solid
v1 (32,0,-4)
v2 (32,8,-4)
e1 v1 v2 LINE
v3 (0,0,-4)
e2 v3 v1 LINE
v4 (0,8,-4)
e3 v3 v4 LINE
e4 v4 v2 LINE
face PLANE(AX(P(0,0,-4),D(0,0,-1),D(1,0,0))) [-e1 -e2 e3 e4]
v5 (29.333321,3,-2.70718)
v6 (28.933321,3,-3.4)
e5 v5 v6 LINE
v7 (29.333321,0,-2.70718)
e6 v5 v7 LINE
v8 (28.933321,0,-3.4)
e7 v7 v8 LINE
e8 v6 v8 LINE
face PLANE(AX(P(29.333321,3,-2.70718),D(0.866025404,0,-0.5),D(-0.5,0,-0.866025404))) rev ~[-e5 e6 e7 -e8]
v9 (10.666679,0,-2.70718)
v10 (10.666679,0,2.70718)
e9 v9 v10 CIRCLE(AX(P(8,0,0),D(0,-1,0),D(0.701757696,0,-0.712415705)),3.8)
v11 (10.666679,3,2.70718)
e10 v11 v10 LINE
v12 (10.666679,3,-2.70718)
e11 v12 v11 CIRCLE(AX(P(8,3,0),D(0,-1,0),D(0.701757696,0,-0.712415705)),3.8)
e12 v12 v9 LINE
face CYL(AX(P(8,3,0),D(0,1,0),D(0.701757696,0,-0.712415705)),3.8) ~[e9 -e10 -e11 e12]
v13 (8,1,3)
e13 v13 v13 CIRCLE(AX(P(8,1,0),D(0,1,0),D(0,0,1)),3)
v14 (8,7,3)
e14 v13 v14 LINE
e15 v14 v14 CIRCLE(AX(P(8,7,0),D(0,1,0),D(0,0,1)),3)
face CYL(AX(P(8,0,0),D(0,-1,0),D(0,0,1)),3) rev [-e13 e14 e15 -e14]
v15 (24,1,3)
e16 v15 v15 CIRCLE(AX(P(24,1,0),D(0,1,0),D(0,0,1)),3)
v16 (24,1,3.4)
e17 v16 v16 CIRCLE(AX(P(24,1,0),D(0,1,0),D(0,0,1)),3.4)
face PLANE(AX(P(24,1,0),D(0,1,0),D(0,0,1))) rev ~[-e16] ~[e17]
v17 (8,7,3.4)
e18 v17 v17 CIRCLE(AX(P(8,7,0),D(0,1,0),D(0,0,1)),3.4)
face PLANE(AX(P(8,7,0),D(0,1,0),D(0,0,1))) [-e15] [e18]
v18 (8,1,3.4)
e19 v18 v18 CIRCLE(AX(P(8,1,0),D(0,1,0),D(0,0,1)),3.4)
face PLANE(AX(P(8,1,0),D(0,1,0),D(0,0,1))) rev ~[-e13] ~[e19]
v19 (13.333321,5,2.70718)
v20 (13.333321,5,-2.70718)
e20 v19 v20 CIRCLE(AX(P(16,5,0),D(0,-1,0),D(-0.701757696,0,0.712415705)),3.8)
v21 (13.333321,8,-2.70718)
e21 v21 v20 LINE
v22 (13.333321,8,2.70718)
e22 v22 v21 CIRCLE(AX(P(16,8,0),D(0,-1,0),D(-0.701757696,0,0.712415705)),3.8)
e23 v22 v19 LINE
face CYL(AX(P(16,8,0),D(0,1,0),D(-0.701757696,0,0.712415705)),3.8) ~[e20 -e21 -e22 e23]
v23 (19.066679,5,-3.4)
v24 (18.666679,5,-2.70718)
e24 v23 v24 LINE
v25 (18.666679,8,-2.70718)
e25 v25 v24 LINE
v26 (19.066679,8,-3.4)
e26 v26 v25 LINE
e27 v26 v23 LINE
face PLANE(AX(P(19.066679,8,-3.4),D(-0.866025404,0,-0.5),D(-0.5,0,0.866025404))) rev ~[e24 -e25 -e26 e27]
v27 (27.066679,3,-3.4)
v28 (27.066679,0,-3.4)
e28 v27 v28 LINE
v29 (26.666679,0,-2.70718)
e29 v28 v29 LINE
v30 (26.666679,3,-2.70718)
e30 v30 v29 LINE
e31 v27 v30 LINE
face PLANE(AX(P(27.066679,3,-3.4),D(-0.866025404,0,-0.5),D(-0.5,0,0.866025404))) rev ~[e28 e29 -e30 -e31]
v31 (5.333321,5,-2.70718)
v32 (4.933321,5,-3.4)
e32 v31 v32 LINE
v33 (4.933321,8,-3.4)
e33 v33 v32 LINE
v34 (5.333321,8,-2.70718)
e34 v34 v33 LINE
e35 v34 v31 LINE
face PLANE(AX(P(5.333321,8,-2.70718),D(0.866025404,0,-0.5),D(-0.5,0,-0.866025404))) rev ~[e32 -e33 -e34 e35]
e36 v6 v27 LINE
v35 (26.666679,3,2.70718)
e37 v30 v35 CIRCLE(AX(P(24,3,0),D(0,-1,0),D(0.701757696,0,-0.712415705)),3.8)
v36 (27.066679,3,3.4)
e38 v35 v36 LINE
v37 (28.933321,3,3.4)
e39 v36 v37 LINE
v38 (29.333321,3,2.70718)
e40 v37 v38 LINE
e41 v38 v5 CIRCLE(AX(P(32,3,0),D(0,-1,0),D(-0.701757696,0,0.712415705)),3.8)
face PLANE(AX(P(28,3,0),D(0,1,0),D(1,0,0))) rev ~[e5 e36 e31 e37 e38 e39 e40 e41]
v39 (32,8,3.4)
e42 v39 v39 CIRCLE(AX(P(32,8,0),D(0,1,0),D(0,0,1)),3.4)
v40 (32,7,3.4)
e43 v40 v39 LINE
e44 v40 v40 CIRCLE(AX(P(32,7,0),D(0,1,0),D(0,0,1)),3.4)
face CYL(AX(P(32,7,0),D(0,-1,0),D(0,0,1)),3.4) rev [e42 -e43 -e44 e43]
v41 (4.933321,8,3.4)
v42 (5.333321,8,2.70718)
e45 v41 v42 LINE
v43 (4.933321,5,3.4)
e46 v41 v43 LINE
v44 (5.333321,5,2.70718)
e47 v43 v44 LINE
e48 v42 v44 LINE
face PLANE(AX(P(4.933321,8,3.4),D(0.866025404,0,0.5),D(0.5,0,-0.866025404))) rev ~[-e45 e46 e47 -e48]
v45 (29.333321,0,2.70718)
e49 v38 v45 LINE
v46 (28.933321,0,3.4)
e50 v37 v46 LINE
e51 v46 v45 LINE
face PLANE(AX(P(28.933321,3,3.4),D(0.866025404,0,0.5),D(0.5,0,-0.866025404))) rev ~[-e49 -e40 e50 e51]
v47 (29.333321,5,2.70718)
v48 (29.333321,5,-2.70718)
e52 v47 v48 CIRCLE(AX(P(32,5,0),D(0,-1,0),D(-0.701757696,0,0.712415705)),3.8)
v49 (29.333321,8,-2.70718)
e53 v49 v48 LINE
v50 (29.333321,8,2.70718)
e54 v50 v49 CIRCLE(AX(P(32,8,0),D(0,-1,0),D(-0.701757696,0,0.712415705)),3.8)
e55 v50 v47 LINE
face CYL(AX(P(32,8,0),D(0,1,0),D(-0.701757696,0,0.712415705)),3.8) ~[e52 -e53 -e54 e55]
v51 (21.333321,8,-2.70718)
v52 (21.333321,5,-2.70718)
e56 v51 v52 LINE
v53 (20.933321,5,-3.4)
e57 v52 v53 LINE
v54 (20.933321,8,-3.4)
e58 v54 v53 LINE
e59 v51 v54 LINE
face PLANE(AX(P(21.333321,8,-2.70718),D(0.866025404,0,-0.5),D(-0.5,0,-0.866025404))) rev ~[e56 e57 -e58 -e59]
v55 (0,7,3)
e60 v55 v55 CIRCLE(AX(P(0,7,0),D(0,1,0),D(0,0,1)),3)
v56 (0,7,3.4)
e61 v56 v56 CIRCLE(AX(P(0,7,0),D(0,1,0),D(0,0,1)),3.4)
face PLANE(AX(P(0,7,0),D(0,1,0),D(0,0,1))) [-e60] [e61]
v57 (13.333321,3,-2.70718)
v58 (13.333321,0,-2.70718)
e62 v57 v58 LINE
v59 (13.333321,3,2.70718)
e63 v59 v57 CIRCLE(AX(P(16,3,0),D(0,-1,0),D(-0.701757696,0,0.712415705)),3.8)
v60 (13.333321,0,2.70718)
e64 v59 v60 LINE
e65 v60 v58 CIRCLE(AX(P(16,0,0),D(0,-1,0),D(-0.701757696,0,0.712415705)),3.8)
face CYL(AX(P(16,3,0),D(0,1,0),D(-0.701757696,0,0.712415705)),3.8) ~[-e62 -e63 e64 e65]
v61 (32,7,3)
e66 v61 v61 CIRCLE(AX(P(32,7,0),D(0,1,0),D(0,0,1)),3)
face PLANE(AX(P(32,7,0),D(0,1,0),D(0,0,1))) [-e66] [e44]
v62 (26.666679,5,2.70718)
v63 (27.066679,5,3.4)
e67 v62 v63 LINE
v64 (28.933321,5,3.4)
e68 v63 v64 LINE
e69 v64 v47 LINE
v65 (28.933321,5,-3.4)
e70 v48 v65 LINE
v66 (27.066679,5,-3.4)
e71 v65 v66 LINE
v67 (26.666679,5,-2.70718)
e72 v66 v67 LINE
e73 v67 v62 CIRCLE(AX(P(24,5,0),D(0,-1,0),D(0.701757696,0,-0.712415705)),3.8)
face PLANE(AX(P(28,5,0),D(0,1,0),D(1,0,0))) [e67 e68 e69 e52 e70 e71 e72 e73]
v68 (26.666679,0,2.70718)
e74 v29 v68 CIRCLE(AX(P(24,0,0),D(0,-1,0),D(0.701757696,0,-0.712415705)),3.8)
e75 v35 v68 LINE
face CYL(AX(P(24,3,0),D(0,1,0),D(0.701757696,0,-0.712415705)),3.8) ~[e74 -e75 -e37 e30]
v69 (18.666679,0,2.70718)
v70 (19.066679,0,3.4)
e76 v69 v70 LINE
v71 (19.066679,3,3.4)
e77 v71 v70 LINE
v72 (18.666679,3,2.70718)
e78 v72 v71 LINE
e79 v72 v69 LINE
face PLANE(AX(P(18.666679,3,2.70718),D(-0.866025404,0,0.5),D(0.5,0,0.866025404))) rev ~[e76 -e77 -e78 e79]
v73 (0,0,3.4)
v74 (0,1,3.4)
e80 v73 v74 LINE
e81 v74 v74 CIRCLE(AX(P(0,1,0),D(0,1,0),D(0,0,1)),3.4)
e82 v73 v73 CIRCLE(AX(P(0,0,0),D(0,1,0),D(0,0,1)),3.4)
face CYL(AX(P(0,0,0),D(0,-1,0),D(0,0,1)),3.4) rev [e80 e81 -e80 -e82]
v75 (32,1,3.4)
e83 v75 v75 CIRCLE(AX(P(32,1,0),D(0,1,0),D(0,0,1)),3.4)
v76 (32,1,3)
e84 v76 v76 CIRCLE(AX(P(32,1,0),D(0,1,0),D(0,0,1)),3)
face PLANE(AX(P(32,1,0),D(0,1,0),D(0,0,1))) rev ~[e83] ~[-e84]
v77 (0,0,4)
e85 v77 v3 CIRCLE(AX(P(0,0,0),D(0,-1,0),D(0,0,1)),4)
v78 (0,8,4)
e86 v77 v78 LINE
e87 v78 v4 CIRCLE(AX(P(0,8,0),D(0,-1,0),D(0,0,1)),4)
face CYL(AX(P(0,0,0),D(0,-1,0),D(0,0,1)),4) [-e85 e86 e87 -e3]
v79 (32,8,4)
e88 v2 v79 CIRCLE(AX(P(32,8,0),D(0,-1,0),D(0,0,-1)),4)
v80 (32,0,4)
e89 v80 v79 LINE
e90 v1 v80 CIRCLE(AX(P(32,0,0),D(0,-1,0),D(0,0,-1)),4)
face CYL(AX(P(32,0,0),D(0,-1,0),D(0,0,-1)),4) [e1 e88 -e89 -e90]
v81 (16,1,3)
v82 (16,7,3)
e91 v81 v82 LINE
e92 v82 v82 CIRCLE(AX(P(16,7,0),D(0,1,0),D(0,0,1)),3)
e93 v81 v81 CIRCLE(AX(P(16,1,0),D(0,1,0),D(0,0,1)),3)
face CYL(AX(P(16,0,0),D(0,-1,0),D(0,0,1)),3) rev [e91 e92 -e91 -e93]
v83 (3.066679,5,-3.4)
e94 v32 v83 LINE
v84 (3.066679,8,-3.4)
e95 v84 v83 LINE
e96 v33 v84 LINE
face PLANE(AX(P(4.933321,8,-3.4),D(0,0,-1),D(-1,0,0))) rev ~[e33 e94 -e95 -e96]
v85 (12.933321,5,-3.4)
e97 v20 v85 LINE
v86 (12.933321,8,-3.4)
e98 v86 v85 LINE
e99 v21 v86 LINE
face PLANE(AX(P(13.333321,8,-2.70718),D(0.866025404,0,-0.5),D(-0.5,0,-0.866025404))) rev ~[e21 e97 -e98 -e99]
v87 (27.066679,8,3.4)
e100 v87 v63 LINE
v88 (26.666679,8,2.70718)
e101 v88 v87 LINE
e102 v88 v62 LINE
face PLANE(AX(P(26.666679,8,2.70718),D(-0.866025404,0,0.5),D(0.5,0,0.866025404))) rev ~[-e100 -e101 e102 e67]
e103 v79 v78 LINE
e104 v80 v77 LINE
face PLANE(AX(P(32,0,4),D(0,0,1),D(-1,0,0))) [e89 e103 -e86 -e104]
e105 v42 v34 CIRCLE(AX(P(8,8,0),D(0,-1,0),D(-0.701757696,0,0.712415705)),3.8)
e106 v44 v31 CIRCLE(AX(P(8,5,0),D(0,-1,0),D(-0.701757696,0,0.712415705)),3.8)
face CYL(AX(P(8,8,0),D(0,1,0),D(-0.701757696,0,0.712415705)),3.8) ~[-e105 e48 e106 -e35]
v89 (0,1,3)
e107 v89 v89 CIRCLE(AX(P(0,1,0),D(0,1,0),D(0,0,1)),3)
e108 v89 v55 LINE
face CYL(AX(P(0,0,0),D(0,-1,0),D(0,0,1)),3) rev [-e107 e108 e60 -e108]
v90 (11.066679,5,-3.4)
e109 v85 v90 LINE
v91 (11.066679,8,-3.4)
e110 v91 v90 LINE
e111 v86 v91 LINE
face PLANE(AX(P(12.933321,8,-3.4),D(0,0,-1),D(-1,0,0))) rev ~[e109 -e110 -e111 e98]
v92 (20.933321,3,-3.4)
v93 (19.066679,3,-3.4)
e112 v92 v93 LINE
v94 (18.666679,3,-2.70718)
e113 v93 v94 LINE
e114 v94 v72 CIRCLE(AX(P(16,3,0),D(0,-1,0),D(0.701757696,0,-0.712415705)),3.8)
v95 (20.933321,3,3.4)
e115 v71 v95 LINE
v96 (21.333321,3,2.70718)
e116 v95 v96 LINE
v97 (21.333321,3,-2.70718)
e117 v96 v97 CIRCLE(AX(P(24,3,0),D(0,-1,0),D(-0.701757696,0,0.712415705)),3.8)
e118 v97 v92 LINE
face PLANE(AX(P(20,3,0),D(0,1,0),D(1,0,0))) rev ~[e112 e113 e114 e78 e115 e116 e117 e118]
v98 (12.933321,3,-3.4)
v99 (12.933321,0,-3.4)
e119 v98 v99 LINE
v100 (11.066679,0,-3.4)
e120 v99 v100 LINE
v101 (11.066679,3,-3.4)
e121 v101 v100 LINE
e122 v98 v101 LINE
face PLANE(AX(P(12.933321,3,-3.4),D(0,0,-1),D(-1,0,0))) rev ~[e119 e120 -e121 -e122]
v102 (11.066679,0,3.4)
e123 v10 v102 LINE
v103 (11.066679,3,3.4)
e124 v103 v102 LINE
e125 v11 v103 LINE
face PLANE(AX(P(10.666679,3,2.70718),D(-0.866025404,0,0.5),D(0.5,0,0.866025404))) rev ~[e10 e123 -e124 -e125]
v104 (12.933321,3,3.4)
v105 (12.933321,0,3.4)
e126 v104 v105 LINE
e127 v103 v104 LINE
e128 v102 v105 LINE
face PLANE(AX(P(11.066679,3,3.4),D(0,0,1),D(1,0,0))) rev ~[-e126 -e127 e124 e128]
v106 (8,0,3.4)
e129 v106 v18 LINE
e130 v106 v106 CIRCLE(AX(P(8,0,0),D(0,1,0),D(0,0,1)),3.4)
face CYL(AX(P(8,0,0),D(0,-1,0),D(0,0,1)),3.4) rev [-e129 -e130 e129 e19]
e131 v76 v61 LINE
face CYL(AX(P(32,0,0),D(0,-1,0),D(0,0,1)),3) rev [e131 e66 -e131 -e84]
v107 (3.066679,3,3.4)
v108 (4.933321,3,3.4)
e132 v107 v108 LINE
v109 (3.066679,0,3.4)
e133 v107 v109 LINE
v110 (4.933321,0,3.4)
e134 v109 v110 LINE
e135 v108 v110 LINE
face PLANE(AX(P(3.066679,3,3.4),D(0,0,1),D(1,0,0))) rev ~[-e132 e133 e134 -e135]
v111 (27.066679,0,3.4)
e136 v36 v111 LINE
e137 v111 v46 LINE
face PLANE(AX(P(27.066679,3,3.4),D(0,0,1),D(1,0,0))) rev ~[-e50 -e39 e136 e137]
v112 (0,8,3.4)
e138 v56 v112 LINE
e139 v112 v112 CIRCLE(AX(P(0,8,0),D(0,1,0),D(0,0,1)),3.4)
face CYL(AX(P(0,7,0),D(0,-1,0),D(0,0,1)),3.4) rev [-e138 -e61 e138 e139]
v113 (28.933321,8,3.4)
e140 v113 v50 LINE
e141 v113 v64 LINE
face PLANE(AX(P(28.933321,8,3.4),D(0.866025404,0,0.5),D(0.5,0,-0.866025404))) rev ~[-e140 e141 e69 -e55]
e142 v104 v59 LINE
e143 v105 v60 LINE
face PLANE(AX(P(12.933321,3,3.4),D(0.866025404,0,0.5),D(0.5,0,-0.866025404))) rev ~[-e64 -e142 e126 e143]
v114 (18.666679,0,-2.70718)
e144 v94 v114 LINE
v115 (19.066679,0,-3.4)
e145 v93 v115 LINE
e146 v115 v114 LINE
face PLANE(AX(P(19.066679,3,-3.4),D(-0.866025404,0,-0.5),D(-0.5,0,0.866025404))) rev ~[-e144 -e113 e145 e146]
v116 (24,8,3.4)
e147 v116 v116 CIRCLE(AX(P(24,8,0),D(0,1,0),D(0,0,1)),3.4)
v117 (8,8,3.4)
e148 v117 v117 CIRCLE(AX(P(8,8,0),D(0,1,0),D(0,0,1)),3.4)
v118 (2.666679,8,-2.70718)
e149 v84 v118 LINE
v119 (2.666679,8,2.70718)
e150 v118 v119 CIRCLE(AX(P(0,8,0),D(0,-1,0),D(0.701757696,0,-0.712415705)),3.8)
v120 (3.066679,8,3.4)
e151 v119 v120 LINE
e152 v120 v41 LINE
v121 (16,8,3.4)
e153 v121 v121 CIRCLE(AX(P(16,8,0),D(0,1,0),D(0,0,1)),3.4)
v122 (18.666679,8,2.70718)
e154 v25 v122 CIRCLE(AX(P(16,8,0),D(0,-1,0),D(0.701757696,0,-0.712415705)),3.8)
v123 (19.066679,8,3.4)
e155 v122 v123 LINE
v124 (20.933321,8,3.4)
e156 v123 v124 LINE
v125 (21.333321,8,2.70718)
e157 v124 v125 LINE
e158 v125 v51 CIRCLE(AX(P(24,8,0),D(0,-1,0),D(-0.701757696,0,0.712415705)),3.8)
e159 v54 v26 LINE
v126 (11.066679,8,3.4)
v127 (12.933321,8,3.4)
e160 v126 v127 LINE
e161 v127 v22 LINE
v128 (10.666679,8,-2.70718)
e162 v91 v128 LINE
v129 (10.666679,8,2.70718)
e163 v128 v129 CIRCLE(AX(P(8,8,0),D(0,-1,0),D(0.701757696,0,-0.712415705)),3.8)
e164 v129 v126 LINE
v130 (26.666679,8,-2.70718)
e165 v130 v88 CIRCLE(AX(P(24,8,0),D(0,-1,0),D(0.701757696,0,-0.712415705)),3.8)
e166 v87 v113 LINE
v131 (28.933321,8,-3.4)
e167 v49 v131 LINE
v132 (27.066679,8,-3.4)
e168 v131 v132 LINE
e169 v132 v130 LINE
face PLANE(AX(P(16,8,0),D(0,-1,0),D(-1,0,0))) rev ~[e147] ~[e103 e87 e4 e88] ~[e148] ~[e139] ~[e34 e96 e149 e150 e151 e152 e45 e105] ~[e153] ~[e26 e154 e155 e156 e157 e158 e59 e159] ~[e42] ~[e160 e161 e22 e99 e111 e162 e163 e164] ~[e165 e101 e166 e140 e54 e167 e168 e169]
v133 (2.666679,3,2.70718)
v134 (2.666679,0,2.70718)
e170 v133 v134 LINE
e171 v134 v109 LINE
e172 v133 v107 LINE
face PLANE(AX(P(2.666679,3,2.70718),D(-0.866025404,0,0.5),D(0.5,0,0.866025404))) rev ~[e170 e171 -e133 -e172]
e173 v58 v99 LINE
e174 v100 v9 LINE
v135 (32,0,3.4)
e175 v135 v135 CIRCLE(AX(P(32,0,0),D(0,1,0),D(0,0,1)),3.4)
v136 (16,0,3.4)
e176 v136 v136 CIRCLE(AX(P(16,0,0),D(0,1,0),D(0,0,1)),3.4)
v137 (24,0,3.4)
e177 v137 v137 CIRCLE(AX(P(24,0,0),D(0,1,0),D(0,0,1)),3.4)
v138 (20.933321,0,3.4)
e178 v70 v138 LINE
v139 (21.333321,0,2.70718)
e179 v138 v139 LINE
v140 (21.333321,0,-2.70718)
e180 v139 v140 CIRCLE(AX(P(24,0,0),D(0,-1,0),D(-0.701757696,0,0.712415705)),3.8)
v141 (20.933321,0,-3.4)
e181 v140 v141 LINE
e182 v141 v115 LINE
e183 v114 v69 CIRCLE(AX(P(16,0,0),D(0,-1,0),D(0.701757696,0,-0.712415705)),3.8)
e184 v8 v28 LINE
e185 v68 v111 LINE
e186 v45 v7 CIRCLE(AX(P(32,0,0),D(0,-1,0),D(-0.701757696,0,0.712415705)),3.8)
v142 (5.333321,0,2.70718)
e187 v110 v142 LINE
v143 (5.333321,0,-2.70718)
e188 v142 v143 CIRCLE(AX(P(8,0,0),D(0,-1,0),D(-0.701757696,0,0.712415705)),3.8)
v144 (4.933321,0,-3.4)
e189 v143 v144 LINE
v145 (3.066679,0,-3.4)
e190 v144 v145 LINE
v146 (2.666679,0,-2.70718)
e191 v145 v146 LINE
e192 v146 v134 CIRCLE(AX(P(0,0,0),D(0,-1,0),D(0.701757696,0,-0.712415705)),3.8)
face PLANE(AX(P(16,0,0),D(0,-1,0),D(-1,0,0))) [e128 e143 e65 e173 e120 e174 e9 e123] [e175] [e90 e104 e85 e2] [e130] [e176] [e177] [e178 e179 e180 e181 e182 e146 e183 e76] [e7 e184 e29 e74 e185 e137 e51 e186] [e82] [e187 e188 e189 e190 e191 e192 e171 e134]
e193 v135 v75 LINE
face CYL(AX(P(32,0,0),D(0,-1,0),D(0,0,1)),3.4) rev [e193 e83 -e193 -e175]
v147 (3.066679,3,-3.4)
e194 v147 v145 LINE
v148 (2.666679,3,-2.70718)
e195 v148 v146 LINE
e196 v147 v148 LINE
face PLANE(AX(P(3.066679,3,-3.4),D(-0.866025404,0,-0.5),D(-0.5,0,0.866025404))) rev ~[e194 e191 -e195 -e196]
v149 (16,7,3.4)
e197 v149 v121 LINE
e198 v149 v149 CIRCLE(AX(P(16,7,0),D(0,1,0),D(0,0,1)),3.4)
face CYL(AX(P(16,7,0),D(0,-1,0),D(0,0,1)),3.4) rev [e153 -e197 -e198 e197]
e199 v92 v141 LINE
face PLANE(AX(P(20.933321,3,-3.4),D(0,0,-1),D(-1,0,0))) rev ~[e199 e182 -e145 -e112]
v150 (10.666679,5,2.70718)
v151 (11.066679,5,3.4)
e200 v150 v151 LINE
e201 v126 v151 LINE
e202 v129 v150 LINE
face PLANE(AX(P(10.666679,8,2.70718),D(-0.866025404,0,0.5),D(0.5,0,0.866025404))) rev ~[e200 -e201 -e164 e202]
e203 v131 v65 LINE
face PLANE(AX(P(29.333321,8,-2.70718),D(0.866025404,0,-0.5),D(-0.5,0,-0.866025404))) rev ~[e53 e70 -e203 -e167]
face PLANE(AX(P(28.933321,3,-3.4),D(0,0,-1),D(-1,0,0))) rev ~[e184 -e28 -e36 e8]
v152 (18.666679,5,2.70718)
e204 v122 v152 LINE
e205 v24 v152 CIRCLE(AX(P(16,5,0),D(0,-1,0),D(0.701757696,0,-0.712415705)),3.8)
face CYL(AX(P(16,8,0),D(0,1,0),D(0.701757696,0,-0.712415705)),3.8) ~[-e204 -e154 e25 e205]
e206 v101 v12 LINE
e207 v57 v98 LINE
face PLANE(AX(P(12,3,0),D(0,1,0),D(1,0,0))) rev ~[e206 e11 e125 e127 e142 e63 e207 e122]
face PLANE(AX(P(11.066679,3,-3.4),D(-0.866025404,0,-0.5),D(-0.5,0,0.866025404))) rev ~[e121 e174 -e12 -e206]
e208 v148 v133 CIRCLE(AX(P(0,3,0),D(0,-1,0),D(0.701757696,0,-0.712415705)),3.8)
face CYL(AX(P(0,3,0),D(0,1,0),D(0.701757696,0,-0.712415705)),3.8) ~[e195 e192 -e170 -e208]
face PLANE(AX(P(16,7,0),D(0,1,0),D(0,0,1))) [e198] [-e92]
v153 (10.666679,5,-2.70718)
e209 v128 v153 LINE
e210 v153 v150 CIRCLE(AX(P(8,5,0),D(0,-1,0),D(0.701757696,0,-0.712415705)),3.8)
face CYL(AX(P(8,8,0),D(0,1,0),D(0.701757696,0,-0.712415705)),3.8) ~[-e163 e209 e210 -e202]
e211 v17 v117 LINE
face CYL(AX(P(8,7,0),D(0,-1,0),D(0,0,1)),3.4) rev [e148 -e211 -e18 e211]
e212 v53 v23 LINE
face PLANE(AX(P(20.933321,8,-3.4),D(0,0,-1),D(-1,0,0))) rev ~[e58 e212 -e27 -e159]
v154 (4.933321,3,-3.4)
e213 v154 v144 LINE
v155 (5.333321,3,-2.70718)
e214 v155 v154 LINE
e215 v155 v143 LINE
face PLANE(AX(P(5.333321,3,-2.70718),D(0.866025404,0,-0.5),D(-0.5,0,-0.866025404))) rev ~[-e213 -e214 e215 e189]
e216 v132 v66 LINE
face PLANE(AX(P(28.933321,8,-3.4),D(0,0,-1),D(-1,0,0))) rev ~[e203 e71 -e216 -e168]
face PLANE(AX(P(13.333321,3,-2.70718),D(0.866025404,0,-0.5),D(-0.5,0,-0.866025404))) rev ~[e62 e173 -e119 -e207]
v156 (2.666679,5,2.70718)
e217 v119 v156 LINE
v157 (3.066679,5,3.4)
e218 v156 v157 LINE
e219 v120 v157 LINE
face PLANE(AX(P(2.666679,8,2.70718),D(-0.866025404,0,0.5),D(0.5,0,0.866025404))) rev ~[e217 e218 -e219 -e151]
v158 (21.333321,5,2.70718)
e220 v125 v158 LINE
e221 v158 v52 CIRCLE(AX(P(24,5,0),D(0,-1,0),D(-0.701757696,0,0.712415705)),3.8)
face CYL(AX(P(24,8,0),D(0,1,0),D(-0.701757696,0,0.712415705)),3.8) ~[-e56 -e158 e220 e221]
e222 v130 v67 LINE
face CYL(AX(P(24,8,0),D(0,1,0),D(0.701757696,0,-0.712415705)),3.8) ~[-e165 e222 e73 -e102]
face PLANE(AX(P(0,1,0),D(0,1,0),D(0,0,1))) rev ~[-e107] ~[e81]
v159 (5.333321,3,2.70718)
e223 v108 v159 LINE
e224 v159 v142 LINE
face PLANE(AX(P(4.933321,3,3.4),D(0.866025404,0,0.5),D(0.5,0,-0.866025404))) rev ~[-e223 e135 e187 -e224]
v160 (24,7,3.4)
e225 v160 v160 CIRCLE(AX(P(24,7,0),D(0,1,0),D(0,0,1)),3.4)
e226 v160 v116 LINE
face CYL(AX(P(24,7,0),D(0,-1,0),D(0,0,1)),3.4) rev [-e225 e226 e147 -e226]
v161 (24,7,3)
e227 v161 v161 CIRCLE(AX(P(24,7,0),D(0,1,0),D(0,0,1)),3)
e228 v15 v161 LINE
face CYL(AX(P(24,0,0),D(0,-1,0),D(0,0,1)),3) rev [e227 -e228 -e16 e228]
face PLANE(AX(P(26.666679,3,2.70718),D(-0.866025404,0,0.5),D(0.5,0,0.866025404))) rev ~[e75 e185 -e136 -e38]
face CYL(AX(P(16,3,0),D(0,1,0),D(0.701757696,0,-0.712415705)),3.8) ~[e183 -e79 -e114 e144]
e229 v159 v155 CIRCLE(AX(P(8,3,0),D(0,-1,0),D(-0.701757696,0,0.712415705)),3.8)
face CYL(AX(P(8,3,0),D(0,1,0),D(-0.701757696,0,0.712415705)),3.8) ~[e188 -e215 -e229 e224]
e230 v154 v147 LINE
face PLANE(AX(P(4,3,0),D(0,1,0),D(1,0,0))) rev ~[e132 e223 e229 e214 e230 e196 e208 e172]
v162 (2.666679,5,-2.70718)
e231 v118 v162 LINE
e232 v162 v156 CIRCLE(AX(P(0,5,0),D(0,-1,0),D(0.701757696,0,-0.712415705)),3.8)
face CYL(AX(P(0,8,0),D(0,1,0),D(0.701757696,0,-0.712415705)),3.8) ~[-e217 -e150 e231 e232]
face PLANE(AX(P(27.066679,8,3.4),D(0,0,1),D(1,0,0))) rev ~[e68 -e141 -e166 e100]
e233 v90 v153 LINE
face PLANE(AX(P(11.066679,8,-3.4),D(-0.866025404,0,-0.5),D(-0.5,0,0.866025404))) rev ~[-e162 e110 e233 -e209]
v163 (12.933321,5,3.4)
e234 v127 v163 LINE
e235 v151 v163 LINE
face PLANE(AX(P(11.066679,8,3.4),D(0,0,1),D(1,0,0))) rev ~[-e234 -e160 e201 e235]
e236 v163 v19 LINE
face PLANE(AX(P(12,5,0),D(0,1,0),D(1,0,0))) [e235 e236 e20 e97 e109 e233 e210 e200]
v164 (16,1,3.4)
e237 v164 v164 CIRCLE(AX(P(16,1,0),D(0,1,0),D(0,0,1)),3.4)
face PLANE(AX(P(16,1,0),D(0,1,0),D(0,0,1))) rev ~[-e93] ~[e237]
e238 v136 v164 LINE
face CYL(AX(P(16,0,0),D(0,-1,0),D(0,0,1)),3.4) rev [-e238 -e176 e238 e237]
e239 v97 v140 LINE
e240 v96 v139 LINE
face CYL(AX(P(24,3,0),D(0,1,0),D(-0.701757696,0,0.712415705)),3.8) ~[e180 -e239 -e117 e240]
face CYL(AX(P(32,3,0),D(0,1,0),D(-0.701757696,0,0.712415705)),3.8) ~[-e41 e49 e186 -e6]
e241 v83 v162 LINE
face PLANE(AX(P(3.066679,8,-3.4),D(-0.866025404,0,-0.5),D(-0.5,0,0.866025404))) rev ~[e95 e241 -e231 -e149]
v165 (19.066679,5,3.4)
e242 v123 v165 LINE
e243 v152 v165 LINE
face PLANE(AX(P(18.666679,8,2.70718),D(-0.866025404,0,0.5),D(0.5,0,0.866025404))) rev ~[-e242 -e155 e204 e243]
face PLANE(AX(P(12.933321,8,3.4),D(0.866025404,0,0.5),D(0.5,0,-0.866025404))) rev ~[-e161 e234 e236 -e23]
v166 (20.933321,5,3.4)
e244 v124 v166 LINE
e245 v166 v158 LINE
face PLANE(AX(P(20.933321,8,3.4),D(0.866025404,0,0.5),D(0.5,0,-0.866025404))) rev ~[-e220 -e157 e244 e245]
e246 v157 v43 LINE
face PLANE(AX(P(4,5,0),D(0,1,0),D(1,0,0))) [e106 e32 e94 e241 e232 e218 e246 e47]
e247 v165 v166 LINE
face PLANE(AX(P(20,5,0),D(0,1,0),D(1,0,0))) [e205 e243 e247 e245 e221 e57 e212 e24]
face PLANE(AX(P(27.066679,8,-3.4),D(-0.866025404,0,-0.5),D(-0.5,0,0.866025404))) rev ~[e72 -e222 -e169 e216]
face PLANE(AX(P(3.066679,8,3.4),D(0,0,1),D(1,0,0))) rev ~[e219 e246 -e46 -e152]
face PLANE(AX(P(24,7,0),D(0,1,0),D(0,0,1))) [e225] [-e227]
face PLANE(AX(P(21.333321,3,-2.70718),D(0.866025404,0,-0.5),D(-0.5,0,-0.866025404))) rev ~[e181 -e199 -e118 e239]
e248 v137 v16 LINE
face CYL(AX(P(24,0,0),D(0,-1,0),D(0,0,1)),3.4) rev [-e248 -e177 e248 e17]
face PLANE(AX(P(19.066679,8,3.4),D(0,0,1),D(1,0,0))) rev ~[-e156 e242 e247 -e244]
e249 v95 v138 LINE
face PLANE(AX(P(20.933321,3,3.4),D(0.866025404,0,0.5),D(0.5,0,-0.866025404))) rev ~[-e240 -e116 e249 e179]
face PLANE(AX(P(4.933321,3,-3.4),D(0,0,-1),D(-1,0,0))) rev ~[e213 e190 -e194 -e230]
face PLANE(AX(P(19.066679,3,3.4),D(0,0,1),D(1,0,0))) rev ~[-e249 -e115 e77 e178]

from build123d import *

# Parameters (mm, degrees)
SKETCH1_R            = 3
BOSS_EXTRUDE1_DEPTH  = 8
CUT_EXTRUDE1_START   = -1
SKETCH2_R            = 3.4
SKETCH2_R_2          = 3
CUT_EXTRUDE1_DEPTH   = 1
LPATTERN1_COUNT      = 5
LPATTERN1_PITCH      = 8
LPATTERN1_COUNT_DIR2 = 2
LPATTERN1_PITCH_DIR2 = 7
CUT_EXTRUDE2_DEPTH   = 3
LPATTERN2_COUNT      = 4
LPATTERN2_PITCH      = 8
LPATTERN2_COUNT_DIR2 = 2
LPATTERN2_PITCH_DIR2 = 5


with BuildPart() as part:
    # Sketch1 → Boss-Extrude1 (new body)
    with BuildSketch(Plane(origin=(0, 0, 0), x_dir=(1, 0, 0), z_dir=(0, 1, 0))):
        with BuildLine():
            Line((0, 4), (32, 4))
            ThreePointArc((32, 4), (36, 0), (32, -4))
            Line((32, -4), (0, -4))
            ThreePointArc((0, -4), (-4, 0), (0, 4))
        make_face()
        with Locations(Location((8, 0, 0), (0, 0, 270))):
            Circle(SKETCH1_R, mode=Mode.SUBTRACT)
        with Locations(Location((16, 0, 0), (0, 0, 270))):
            Circle(SKETCH1_R, mode=Mode.SUBTRACT)
        with Locations(Location((0, 0, 0), (0, 0, 270))):
            Circle(SKETCH1_R, mode=Mode.SUBTRACT)
        with Locations(Location((24, 0, 0), (0, 0, 270))):
            Circle(SKETCH1_R, mode=Mode.SUBTRACT)
        with Locations(Location((32, 0, 0), (0, 0, 270))):
            Circle(SKETCH1_R, mode=Mode.SUBTRACT)
    extrude(amount=BOSS_EXTRUDE1_DEPTH)

    # Sketch2 → Cut-Extrude1 (cut)
    with BuildSketch(Plane(origin=(0, 8, 0), x_dir=(1, 0, 0), z_dir=(0, 1, 0)).offset(CUT_EXTRUDE1_START)):
        with Locations(Location((0, 0, 0), (0, 0, 270))):
            Circle(SKETCH2_R)
        with Locations(Location((0, 0, 0), (0, 0, 270))):
            Circle(SKETCH2_R_2, mode=Mode.SUBTRACT)
    cut_extrude1 = extrude(amount=CUT_EXTRUDE1_DEPTH, mode=Mode.SUBTRACT)

    # LPattern1: Cut-Extrude1 5 × 2
    with Locations(*[(i * LPATTERN1_PITCH, -j * LPATTERN1_PITCH_DIR2, 0) for i in range(LPATTERN1_COUNT) for j in range(LPATTERN1_COUNT_DIR2) if (i, j) != (0, 0)]):
        add(cut_extrude1, mode=Mode.SUBTRACT)

    # Sketch3 → Cut-Extrude2 (cut)
    with BuildSketch(Plane(origin=(0, 8, 0), x_dir=(1, 0, 0), z_dir=(0, 1, 0))):
        with BuildLine():
            Line((3.066679245, -3.4), (4.933320755, -3.4))
            Line((4.933320755, -3.4), (5.333320755, -2.707179677))
            ThreePointArc((5.333320755, -2.707179677), (4.2, 0), (5.333320755, 2.707179677))
            Line((5.333320755, 2.707179677), (4.933320755, 3.4))
            Line((4.933320755, 3.4), (3.066679245, 3.4))
            Line((3.066679245, 3.4), (2.666679245, 2.707179677))
            ThreePointArc((2.666679245, 2.707179677), (3.8, 0), (2.666679245, -2.707179677))
            Line((2.666679245, -2.707179677), (3.066679245, -3.4))
        make_face()
    cut_extrude2 = extrude(amount=-CUT_EXTRUDE2_DEPTH, mode=Mode.SUBTRACT)

    # LPattern2: Cut-Extrude2 4 × 2
    with Locations(*[(i * LPATTERN2_PITCH, -j * LPATTERN2_PITCH_DIR2, 0) for i in range(LPATTERN2_COUNT) for j in range(LPATTERN2_COUNT_DIR2) if (i, j) != (0, 0)]):
        add(cut_extrude2, mode=Mode.SUBTRACT)


solid = part.part
